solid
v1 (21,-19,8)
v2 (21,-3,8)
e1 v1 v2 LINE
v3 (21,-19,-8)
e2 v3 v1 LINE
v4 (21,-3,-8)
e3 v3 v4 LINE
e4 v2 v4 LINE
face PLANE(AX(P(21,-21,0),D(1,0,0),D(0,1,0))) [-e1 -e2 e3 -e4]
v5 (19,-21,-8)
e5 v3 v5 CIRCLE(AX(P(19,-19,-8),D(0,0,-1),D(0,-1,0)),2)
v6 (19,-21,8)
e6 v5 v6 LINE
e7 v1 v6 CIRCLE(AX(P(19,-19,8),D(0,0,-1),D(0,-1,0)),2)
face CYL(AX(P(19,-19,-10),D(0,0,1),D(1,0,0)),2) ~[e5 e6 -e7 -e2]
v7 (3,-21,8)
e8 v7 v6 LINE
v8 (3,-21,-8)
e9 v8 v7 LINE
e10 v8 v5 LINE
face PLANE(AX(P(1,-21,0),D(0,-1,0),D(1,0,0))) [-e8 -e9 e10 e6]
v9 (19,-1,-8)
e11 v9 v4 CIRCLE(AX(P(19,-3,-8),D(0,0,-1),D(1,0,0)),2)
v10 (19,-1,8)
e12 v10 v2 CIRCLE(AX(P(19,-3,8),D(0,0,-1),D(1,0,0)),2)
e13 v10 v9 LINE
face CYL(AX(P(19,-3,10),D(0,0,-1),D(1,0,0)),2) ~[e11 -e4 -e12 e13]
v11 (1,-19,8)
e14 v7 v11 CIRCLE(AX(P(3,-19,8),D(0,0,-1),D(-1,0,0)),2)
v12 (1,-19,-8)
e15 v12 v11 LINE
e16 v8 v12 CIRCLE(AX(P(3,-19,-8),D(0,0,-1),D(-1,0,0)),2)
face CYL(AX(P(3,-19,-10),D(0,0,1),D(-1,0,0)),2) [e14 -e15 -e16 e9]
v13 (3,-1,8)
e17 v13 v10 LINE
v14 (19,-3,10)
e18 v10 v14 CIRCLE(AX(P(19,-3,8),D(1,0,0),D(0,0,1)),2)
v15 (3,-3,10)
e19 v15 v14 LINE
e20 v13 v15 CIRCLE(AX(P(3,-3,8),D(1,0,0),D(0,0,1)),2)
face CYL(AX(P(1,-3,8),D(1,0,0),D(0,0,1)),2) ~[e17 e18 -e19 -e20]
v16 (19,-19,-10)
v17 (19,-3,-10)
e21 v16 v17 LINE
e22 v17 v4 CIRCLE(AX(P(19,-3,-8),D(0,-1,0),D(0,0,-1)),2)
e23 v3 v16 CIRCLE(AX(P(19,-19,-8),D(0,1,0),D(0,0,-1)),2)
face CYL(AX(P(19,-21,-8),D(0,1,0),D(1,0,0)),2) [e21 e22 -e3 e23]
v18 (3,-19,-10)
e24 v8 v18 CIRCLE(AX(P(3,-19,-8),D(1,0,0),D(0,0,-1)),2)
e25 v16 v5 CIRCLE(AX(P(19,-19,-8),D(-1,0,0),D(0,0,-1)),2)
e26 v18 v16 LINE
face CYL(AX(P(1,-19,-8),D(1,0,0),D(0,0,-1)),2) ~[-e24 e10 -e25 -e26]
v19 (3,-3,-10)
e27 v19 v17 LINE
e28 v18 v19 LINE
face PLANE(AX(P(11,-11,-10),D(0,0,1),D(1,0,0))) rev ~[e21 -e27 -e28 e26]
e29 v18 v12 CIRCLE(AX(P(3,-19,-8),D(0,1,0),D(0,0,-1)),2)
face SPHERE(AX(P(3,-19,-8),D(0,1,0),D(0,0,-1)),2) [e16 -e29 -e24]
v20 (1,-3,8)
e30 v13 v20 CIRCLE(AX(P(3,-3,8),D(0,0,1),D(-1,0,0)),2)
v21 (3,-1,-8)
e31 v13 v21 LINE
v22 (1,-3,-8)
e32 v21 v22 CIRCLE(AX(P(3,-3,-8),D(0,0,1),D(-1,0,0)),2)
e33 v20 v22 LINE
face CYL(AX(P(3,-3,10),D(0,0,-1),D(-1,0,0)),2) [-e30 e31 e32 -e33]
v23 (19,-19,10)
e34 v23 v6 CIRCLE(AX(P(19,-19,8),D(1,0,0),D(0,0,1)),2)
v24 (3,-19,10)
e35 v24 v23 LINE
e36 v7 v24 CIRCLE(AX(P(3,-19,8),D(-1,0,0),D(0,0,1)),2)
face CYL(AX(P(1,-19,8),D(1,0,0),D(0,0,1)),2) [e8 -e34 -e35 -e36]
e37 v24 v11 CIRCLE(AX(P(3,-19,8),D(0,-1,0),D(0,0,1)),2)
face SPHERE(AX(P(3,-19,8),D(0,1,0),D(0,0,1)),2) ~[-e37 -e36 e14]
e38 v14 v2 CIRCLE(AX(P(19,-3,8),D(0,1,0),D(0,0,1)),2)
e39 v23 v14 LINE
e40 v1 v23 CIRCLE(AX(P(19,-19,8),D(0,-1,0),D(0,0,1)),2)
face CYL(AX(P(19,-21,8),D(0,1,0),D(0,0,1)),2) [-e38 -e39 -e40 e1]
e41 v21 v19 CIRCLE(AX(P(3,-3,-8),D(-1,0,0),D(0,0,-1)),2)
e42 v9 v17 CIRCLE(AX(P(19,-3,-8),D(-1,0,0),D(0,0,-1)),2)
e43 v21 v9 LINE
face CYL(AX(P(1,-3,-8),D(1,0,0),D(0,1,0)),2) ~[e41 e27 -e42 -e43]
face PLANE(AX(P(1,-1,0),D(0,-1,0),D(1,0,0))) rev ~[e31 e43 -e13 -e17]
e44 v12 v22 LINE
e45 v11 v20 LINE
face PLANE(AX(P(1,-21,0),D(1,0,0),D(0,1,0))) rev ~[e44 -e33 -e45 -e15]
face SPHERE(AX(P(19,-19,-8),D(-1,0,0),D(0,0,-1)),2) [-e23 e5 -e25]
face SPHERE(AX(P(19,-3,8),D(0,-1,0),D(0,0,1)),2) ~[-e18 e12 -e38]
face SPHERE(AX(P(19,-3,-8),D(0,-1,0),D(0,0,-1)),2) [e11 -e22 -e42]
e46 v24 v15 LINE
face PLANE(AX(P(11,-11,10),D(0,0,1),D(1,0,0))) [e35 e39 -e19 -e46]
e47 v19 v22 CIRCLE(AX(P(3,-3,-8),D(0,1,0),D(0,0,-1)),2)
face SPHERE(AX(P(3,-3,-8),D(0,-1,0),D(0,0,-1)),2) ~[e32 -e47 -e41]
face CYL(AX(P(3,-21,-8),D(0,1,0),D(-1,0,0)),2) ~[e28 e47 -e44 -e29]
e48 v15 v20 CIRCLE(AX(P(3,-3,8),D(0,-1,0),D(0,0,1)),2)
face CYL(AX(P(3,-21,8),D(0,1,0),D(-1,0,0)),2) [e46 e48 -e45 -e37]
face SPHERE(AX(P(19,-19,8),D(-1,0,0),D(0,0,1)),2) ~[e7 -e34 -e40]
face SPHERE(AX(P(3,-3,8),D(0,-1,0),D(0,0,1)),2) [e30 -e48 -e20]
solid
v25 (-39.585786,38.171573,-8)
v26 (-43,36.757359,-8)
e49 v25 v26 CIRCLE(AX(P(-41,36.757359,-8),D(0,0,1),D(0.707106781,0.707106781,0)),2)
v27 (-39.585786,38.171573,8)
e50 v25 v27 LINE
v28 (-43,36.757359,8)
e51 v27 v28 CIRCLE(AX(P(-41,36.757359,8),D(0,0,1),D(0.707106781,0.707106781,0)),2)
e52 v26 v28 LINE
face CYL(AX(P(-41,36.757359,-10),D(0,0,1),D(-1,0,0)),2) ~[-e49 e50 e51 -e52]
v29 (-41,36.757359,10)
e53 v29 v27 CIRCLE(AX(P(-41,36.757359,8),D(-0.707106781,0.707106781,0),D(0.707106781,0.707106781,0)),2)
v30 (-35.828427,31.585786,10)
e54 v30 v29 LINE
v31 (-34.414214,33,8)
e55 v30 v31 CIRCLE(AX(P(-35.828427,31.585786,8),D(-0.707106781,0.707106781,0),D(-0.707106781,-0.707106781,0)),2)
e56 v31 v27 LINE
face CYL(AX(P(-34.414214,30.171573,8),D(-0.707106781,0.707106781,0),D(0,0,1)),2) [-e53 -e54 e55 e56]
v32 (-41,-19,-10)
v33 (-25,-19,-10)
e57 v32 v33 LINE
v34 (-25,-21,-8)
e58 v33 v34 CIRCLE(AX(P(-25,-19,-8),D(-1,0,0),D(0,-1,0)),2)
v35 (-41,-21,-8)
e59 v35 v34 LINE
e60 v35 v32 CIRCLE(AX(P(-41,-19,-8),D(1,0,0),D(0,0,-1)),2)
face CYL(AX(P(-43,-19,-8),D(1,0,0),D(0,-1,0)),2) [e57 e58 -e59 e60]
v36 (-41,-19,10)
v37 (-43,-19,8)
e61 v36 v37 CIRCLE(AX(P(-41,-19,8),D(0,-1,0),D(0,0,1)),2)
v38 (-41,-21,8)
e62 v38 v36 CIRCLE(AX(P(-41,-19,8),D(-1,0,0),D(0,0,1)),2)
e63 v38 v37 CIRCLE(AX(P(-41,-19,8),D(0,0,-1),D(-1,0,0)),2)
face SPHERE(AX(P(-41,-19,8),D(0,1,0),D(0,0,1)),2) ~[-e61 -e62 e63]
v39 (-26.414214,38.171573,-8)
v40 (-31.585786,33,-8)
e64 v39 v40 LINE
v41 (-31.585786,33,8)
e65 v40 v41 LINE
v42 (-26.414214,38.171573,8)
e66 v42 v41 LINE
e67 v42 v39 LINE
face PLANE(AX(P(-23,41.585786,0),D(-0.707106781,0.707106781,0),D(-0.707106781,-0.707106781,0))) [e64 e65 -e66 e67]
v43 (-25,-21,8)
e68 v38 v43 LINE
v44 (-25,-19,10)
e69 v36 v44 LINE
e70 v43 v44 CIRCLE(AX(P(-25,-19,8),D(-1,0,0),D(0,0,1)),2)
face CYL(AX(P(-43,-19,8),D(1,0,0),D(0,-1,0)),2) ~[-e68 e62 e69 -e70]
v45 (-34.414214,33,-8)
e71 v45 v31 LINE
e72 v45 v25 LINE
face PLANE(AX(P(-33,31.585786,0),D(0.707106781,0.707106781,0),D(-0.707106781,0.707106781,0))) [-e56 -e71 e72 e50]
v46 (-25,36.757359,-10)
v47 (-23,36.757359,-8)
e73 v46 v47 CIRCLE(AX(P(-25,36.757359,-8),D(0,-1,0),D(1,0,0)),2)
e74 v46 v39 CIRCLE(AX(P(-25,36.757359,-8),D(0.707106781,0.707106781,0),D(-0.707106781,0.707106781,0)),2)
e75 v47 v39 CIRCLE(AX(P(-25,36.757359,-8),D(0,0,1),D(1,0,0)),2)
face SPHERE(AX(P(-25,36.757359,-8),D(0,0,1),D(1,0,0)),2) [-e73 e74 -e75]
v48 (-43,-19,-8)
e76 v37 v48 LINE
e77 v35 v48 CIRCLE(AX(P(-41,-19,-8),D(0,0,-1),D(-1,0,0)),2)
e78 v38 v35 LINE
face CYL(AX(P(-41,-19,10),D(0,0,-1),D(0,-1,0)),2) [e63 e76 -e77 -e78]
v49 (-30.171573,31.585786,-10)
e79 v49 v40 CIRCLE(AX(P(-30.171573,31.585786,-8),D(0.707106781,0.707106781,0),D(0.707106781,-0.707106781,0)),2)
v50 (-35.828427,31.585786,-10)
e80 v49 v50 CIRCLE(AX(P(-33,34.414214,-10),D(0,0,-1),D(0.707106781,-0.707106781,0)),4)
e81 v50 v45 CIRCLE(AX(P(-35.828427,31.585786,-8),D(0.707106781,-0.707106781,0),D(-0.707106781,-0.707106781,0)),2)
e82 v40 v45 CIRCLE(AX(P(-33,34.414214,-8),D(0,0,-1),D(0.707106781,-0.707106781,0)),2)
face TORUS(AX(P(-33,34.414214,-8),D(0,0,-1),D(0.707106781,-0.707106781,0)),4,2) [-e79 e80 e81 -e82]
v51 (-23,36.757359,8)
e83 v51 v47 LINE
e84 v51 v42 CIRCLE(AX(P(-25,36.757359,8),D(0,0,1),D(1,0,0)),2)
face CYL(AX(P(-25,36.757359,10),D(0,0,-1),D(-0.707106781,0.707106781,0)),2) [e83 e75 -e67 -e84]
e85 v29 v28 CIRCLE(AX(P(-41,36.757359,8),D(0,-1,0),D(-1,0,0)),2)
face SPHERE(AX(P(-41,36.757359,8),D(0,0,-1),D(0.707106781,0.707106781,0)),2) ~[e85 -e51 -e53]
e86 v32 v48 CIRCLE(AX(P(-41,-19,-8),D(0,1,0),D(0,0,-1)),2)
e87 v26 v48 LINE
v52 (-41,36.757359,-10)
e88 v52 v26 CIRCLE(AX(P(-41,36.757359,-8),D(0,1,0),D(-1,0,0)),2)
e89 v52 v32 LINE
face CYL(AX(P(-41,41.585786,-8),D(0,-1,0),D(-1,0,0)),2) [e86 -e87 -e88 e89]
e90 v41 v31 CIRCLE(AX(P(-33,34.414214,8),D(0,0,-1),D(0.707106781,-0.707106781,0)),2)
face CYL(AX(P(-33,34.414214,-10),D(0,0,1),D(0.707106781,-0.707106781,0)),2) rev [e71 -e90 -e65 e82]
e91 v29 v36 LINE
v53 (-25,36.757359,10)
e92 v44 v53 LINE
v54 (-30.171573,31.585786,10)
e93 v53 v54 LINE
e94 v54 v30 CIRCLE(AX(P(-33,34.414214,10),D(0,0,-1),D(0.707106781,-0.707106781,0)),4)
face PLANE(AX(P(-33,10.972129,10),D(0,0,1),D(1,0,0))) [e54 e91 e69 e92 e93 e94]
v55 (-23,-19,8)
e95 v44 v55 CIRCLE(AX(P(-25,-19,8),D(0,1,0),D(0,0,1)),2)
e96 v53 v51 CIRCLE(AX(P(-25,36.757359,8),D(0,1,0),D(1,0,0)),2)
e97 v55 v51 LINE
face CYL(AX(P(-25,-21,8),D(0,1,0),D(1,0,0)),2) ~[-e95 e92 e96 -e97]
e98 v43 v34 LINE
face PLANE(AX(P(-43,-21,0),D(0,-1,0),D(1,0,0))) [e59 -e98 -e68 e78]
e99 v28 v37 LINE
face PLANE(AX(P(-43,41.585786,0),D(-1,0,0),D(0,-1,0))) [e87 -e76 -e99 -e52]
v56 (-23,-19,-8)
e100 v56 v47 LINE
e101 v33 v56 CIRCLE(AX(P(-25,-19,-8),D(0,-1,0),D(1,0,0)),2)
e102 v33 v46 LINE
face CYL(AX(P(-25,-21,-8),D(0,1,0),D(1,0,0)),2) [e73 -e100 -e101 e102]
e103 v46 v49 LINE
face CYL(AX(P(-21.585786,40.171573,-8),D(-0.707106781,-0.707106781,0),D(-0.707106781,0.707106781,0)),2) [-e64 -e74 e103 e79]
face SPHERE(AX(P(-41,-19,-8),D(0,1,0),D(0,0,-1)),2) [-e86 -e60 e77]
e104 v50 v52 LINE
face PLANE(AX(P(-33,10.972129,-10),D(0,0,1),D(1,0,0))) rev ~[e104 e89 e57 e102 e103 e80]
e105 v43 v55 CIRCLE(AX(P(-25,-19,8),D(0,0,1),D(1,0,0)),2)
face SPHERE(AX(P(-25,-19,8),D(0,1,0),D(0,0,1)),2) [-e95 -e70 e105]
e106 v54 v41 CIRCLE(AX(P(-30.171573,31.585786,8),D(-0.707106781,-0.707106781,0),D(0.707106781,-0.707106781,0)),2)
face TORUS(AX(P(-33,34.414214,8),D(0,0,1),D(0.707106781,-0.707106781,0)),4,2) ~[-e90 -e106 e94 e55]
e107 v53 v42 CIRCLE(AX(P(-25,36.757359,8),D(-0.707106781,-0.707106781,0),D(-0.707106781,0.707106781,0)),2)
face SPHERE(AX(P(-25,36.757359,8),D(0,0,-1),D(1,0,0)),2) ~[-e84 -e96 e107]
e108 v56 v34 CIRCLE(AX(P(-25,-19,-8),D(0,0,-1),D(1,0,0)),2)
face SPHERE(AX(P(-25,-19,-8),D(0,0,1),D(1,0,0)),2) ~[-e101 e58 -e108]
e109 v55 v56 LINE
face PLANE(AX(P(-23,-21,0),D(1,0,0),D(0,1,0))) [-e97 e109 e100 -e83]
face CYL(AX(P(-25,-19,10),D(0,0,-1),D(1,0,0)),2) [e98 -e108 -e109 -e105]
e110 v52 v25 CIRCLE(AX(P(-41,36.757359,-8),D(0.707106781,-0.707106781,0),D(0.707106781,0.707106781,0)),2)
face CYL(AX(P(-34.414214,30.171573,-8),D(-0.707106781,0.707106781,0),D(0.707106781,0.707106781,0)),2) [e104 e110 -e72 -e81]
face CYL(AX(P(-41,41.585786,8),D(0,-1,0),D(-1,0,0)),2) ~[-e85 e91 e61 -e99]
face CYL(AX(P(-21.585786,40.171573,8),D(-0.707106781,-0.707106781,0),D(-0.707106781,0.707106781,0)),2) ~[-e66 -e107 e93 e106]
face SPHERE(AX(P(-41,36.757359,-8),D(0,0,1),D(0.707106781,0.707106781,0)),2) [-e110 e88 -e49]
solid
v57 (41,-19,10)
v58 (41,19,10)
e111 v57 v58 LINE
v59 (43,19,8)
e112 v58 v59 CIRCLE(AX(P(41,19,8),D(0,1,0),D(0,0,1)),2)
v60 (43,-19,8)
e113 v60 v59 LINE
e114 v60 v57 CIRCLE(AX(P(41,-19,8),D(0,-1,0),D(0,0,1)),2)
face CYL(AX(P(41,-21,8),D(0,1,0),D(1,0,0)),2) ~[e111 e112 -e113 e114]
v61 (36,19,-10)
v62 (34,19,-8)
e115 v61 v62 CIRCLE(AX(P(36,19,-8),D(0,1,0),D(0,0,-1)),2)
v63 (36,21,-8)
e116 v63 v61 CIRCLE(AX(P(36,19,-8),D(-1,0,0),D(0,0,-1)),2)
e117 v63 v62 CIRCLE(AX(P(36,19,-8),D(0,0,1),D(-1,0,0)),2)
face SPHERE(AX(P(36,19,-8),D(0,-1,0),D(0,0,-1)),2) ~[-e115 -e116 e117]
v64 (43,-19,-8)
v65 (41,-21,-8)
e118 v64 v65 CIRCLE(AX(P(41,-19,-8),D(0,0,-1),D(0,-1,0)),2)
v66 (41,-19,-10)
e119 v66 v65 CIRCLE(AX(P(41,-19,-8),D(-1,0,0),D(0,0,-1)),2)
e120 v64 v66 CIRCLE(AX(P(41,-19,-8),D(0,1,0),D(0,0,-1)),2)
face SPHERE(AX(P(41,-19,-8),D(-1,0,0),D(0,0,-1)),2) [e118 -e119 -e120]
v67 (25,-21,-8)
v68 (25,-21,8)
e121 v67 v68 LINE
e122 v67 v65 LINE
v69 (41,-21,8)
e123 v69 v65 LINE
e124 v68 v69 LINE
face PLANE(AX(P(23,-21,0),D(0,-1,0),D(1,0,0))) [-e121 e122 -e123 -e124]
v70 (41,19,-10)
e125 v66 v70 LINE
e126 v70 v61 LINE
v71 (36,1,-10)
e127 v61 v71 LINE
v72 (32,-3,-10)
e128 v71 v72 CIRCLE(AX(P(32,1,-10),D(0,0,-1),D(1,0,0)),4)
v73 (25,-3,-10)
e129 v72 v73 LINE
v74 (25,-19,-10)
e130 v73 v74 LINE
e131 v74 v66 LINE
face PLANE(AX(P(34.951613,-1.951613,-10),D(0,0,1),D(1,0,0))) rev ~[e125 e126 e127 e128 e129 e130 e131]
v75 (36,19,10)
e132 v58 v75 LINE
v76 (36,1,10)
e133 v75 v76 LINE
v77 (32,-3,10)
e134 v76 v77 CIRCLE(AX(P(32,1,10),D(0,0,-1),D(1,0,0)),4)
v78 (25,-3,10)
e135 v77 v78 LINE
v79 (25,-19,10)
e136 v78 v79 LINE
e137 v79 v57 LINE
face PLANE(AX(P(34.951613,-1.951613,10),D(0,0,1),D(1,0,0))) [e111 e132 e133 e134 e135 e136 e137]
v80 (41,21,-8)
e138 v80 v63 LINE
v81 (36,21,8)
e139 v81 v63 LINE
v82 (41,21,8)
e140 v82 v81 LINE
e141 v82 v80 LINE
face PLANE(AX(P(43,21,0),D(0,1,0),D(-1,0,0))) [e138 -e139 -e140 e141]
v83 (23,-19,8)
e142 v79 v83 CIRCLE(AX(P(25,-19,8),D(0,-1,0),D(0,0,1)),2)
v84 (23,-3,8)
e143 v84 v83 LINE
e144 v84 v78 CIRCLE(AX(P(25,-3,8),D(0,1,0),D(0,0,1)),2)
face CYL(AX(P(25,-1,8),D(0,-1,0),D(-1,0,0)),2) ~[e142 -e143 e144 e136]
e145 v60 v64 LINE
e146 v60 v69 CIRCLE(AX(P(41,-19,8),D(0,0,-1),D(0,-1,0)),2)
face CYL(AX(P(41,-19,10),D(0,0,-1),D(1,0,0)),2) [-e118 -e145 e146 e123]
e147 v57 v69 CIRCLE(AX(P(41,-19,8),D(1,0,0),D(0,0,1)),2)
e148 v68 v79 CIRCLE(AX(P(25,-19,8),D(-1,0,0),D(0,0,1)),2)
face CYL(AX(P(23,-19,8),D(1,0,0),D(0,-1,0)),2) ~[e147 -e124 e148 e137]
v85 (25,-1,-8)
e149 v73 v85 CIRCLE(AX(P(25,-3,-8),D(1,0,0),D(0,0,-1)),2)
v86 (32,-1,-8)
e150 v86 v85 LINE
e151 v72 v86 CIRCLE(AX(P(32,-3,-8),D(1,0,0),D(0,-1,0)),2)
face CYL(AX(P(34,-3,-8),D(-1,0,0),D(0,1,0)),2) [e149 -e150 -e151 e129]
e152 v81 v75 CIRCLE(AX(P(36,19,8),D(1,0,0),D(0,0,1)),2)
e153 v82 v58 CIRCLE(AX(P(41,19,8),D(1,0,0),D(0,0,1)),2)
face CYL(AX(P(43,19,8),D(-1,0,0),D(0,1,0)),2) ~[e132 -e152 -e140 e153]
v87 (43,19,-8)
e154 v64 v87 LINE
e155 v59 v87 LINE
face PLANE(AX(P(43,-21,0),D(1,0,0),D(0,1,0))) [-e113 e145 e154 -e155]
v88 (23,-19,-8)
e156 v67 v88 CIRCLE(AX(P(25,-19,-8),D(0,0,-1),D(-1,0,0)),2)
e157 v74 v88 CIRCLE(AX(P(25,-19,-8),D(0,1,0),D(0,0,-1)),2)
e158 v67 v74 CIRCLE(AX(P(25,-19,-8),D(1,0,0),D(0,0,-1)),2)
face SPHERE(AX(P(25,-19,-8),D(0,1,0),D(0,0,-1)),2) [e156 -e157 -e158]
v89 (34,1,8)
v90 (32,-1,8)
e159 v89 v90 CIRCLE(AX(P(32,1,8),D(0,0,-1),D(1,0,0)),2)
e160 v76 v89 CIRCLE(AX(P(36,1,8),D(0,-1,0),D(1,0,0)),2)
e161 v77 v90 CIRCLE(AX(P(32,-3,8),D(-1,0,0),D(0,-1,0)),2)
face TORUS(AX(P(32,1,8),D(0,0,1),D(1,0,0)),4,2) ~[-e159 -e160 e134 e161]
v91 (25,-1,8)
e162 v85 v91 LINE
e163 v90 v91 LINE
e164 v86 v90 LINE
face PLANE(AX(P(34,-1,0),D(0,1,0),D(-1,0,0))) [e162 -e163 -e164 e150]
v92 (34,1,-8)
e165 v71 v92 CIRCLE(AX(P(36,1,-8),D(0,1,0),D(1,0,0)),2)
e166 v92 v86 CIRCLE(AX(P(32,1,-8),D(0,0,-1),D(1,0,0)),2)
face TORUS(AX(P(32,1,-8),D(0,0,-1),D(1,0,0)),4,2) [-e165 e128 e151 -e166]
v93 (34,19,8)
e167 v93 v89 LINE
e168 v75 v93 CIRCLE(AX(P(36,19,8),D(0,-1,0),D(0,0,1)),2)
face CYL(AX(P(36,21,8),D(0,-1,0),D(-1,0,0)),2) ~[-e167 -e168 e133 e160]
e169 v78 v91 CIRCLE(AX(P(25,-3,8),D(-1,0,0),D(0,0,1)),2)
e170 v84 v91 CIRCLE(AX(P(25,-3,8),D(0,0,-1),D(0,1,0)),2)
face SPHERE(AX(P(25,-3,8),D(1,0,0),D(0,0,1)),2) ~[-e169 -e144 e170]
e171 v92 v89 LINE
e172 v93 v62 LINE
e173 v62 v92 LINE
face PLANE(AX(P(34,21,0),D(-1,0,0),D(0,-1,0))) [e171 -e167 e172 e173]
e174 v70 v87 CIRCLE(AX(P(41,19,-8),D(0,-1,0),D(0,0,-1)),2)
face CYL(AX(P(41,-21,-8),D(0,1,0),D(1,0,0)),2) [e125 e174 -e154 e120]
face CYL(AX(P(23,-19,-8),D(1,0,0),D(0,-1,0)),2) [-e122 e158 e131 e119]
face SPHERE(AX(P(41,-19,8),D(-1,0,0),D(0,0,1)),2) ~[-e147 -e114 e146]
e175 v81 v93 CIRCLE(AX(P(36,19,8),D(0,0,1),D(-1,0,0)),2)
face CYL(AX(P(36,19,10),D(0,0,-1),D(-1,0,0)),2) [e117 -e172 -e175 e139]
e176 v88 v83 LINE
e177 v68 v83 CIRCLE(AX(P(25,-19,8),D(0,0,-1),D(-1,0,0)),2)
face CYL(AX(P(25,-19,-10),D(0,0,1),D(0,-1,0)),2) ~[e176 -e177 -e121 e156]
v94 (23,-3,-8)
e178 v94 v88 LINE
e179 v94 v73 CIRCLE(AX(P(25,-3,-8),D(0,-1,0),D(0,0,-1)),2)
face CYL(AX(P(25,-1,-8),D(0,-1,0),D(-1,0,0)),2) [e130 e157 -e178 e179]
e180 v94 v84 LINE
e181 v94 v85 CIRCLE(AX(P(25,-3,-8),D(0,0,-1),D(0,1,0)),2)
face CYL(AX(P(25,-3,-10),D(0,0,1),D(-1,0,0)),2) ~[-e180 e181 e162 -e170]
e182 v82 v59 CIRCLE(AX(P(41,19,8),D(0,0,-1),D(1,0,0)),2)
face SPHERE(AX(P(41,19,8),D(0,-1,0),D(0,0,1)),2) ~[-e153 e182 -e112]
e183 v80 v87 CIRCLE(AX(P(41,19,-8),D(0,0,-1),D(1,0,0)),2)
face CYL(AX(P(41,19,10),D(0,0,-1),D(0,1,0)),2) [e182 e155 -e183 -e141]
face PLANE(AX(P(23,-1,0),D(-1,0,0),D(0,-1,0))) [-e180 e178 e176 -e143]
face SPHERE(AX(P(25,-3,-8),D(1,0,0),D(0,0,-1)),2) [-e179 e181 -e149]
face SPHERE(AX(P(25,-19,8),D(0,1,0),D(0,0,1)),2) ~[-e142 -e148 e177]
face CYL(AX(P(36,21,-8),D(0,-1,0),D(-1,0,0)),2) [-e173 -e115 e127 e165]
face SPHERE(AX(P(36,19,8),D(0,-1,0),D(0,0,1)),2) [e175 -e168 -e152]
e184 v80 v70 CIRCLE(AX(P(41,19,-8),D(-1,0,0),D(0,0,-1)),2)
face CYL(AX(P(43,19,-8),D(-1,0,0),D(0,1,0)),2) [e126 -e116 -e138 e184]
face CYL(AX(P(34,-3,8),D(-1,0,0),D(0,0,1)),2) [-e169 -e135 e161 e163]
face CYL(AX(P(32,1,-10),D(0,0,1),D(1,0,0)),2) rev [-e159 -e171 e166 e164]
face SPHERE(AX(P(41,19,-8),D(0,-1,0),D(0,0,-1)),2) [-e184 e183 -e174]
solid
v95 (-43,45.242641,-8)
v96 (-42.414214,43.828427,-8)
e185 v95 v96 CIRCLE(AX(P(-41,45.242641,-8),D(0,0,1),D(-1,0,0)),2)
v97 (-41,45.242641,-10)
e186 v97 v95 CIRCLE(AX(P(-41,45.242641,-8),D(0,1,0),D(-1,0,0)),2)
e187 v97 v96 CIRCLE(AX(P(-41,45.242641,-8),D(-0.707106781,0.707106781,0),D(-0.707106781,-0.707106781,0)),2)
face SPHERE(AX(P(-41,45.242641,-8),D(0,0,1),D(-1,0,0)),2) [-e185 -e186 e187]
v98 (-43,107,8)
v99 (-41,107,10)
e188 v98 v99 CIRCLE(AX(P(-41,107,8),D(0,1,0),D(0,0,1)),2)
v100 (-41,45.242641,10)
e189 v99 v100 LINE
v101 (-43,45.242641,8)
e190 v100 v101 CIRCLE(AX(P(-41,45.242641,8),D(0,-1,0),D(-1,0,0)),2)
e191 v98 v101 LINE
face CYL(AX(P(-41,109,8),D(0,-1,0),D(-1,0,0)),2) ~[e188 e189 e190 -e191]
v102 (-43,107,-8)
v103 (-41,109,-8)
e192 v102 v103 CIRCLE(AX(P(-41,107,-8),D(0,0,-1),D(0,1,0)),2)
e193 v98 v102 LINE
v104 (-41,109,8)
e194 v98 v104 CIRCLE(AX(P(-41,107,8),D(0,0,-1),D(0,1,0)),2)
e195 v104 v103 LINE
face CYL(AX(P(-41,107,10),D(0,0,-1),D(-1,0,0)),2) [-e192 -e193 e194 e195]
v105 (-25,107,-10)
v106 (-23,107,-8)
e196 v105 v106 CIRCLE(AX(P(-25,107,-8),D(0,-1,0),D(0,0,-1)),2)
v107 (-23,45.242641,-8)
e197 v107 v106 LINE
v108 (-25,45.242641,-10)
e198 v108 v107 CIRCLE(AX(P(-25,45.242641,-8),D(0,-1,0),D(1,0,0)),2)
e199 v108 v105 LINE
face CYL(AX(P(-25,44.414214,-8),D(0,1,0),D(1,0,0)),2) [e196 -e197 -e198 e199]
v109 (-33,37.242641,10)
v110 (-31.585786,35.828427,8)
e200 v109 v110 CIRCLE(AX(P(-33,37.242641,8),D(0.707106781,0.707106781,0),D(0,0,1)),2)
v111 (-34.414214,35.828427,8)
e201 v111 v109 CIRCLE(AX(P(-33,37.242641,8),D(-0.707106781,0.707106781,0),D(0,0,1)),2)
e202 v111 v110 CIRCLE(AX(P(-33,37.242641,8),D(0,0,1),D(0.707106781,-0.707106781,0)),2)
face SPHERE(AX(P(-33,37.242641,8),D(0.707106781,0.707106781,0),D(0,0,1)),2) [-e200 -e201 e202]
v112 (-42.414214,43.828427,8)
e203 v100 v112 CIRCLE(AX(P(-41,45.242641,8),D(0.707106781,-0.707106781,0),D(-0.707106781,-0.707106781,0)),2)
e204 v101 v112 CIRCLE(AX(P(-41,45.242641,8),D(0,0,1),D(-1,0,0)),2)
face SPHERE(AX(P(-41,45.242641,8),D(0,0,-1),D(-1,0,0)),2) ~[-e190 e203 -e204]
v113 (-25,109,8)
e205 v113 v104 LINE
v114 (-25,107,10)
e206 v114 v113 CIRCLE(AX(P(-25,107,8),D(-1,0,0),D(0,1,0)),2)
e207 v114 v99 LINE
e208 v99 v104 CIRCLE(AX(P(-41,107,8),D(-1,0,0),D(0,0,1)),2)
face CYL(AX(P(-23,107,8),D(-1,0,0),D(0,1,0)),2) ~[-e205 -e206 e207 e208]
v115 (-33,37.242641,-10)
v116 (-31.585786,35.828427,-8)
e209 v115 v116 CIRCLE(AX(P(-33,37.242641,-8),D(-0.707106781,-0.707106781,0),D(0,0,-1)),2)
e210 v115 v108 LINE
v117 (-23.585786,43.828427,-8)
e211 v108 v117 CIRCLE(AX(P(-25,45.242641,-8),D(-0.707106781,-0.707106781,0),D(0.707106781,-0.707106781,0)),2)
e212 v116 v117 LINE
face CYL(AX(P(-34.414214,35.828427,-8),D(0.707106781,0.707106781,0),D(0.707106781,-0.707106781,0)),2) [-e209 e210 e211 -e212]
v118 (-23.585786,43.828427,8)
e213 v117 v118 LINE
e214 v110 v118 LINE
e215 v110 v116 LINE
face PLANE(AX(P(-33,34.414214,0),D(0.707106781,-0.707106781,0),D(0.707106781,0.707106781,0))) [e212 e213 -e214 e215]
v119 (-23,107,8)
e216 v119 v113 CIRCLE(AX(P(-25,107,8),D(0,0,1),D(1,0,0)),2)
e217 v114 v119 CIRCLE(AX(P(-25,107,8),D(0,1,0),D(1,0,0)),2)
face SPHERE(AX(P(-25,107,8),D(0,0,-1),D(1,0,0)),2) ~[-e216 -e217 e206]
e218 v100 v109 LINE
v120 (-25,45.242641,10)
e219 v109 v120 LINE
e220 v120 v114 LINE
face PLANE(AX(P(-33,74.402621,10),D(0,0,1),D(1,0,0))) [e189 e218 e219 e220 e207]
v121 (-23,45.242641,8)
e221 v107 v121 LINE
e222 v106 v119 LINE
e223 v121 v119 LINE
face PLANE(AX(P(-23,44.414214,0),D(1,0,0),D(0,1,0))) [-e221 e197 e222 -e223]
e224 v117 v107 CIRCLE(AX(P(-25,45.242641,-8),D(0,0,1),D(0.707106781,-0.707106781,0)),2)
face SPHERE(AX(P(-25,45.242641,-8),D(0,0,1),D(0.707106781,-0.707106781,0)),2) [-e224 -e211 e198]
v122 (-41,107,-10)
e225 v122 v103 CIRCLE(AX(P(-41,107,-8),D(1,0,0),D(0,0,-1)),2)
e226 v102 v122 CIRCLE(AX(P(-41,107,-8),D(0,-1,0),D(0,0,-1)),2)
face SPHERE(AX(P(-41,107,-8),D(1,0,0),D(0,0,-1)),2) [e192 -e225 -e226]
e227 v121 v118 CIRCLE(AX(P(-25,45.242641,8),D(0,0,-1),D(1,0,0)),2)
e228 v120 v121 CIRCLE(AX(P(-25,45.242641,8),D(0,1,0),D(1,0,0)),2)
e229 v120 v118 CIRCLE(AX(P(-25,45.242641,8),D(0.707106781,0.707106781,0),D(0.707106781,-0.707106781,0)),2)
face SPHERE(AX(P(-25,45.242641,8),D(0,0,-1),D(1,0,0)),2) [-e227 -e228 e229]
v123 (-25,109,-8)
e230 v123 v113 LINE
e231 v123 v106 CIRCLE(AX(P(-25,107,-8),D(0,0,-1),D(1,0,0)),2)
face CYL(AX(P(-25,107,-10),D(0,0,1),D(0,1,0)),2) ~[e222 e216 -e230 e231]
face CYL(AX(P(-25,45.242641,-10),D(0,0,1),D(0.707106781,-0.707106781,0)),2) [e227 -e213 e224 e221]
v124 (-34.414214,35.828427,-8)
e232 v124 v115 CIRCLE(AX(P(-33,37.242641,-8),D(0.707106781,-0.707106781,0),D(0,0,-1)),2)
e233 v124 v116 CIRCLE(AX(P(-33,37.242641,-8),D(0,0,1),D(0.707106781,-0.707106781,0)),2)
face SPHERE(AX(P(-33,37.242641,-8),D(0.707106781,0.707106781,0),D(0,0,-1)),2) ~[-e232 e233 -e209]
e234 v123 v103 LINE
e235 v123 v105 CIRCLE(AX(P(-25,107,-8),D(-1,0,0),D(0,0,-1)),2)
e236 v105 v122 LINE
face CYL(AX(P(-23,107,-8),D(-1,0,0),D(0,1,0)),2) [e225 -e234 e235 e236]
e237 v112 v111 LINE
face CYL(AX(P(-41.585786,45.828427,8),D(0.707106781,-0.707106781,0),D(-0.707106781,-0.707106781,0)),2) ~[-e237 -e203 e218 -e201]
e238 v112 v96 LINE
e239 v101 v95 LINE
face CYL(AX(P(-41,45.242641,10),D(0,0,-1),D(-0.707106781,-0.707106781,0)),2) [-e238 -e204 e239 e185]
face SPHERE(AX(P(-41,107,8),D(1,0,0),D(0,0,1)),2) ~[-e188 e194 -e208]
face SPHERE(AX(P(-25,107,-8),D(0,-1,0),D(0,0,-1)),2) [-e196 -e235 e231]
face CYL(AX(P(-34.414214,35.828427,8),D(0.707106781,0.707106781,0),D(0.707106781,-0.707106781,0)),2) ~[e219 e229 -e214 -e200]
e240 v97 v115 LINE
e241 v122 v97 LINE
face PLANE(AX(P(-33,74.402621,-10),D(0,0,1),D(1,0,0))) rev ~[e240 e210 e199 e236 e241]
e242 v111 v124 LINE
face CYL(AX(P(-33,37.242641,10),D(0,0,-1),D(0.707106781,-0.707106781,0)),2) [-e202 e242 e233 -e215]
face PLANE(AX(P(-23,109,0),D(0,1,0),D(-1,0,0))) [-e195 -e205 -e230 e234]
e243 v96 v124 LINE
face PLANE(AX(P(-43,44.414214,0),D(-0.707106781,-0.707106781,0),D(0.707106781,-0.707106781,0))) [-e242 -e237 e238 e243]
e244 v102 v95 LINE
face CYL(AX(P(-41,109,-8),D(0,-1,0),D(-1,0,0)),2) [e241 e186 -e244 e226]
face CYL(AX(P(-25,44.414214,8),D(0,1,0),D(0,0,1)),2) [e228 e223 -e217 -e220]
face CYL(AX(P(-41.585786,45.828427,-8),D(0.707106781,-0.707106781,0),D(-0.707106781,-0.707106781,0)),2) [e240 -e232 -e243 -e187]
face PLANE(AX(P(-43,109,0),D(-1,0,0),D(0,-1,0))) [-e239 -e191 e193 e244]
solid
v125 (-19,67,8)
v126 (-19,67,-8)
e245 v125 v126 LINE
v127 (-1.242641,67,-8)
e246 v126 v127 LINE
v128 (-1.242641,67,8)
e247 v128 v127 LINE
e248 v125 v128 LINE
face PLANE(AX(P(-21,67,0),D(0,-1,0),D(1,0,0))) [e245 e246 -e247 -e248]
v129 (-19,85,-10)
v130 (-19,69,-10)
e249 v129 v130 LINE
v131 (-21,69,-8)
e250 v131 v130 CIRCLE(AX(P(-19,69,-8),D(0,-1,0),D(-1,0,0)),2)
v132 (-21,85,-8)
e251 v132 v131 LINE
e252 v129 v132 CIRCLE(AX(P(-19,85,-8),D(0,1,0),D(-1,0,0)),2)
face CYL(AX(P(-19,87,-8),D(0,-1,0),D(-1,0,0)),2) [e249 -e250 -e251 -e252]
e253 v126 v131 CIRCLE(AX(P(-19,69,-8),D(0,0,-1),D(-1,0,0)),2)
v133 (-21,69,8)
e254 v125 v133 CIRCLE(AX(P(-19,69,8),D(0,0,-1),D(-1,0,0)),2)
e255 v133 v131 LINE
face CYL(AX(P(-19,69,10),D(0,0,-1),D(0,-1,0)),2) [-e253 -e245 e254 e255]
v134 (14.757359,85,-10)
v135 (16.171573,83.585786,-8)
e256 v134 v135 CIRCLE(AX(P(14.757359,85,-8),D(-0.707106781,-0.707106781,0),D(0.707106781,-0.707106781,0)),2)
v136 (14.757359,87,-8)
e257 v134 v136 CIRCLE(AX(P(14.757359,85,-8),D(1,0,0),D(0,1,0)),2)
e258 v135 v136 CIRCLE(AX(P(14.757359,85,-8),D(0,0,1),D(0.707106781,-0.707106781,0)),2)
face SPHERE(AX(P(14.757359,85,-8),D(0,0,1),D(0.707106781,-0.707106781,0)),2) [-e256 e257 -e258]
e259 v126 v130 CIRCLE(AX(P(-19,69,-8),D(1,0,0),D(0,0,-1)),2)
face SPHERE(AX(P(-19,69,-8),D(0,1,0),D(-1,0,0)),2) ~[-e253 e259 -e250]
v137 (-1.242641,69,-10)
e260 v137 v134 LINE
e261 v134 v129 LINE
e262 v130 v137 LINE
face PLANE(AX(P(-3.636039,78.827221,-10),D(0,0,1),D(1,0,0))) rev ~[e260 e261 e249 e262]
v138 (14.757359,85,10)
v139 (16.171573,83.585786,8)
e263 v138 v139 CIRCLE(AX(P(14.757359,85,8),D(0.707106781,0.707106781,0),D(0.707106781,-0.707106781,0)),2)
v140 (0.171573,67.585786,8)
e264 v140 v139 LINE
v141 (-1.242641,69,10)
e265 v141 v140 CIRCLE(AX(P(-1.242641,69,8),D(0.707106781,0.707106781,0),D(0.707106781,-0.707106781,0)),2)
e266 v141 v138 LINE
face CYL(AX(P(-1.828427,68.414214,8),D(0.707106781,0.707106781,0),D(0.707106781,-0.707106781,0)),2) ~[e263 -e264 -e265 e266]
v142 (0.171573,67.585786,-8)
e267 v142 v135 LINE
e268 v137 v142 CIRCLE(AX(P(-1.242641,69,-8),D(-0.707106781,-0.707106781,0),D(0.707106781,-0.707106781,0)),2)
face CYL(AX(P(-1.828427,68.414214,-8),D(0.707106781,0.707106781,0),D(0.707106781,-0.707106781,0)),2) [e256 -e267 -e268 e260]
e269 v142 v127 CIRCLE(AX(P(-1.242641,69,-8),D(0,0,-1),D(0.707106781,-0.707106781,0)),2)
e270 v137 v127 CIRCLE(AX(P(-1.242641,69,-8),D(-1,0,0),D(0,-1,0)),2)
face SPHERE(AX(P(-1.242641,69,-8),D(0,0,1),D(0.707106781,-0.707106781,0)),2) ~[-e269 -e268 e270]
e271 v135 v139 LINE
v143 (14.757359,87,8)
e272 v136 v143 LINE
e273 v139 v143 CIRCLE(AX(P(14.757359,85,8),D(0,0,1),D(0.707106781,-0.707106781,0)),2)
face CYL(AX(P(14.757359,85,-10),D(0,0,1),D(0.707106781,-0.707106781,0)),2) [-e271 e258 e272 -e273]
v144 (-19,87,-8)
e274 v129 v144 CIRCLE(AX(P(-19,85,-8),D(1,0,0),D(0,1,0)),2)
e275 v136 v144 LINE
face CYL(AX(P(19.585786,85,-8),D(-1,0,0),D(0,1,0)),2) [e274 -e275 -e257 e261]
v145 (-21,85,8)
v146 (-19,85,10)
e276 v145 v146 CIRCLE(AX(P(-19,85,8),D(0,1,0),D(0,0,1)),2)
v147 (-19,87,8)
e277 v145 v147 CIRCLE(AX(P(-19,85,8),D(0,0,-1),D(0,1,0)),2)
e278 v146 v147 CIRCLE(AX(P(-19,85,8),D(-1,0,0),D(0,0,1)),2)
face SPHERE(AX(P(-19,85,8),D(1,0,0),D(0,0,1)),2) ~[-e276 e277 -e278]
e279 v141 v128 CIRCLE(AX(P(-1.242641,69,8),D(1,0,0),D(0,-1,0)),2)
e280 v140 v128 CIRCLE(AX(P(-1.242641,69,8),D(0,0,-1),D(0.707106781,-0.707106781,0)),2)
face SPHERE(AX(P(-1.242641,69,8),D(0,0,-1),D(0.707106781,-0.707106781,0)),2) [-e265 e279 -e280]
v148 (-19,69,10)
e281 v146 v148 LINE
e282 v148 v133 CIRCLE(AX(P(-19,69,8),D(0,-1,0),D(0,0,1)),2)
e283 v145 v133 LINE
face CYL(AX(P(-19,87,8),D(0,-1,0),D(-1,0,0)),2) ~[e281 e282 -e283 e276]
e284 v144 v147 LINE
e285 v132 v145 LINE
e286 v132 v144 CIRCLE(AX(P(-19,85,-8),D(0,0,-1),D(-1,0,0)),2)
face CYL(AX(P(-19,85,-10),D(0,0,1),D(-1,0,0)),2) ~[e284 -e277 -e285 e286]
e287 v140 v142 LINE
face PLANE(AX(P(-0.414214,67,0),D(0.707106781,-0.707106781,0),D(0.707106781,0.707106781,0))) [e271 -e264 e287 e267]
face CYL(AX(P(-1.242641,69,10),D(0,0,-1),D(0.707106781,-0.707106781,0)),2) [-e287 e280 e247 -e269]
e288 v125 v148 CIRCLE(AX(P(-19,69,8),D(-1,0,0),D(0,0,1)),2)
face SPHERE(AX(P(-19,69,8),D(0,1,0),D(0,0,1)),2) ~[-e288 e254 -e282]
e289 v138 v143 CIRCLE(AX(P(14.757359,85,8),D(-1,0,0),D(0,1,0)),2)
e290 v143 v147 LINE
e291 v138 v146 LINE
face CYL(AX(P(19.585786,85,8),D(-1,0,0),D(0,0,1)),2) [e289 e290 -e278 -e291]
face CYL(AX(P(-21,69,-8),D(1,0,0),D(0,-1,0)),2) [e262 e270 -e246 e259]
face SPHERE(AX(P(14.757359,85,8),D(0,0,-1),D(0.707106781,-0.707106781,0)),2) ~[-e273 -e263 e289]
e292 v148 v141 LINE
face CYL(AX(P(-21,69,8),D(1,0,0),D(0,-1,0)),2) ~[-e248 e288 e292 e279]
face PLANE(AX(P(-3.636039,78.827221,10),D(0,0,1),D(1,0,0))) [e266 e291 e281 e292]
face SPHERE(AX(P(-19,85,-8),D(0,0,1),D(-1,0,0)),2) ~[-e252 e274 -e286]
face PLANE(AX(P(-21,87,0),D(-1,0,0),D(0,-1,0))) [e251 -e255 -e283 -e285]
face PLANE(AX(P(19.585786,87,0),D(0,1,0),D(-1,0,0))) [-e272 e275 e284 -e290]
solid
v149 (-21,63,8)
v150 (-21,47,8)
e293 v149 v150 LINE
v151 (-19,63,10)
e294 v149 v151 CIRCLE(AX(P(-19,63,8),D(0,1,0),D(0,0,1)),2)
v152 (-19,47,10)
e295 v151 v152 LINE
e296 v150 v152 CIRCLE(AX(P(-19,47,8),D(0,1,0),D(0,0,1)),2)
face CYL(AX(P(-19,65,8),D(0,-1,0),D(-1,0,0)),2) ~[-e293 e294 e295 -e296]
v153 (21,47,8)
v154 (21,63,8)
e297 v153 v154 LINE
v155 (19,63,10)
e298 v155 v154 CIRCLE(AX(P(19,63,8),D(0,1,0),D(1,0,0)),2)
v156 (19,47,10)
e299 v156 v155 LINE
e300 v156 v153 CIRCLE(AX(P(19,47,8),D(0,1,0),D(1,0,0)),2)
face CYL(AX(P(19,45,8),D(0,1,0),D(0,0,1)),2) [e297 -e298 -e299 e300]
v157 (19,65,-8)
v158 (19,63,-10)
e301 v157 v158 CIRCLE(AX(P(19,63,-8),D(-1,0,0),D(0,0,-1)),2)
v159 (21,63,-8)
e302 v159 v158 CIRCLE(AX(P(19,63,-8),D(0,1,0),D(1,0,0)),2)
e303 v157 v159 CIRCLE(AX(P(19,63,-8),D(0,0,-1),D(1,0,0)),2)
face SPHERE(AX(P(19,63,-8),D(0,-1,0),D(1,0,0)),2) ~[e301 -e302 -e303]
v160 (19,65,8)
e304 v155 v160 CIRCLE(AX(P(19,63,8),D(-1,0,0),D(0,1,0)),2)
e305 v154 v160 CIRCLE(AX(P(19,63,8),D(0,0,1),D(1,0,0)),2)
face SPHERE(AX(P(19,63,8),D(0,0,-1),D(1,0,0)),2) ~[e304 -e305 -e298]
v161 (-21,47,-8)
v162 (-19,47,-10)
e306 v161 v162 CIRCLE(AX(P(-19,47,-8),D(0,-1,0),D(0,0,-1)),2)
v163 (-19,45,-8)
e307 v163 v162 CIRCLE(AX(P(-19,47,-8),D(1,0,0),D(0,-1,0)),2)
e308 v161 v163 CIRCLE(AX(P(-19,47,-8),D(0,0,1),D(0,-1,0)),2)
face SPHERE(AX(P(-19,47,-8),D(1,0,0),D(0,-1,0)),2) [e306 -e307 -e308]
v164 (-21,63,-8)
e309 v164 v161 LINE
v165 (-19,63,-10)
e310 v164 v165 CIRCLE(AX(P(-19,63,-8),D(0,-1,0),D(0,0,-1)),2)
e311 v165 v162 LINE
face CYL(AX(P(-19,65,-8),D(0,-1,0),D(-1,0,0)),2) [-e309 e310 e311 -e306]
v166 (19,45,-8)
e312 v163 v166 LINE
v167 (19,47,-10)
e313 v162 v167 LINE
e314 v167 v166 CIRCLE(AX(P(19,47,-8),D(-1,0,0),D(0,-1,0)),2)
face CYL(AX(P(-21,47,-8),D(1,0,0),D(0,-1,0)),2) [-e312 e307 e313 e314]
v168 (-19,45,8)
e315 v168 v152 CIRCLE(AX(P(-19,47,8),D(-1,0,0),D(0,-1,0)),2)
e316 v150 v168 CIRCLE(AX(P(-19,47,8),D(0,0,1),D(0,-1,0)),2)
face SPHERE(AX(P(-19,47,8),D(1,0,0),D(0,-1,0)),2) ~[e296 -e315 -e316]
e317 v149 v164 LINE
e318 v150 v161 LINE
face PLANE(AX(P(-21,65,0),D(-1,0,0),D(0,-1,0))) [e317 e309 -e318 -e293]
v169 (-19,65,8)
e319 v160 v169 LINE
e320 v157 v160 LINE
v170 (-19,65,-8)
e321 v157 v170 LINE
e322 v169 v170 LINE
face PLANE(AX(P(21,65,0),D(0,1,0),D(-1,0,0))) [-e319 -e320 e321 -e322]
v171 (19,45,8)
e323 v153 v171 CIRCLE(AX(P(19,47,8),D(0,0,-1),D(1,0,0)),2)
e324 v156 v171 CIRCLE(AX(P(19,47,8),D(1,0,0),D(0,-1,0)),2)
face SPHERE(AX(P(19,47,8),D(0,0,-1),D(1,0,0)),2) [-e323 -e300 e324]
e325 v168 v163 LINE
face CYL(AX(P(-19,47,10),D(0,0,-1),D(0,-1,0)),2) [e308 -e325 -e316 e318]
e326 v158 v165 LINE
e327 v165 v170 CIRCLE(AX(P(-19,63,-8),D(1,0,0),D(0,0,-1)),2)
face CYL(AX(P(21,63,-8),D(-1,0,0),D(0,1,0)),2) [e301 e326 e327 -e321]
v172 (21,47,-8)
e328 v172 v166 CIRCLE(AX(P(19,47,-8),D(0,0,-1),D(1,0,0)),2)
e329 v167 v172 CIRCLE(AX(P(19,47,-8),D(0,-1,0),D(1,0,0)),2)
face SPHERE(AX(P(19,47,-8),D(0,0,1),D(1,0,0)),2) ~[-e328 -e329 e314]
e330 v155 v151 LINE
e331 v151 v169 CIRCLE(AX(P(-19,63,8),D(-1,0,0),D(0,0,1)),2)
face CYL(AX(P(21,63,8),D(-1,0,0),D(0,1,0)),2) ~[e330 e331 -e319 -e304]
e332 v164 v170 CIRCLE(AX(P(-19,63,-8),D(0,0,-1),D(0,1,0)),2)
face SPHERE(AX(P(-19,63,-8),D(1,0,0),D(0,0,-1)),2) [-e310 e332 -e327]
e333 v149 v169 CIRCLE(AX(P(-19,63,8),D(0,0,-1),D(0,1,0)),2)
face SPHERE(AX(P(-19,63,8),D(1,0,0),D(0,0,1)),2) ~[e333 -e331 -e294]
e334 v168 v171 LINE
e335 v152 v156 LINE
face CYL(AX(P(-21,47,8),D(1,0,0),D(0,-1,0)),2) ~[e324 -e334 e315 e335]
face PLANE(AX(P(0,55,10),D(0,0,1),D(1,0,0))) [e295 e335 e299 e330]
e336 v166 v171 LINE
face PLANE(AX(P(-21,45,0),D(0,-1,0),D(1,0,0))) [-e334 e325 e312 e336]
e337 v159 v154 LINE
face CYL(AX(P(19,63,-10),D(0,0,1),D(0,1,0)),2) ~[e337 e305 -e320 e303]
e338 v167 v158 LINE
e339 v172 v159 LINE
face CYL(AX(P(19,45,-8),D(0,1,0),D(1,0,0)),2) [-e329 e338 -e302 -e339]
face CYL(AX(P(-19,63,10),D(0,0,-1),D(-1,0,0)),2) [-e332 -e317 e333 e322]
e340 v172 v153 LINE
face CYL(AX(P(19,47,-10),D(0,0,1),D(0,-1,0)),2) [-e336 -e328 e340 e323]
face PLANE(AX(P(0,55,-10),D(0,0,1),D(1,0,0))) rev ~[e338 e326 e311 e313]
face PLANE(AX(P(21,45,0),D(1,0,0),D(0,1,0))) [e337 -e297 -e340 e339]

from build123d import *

# Parameters (mm, degrees)
F2_DEPTH = 10
F1_W     = 20
F1_H     = 20
F4_R     = 2
F5_R     = 2
F6_R     = 2
F7_R     = 2
F8_R     = 2
F9_R     = 2


with BuildPart() as f2:
    # F1 (on Top) → F2 (new body, symmetric)
    with BuildSketch(Plane.XY):
        Polygon((-23, 0), (-23, 9), (-23, 12), (-23, 27), (-23, 41.5857864376), (-33, 31.5857864376), (-43, 41.5857864376), (-43, -21), (-23, -21), align=None)
    extrude(amount=F2_DEPTH, both=True)

    # F9
    f9_edges = [f2.edges().sort_by_distance(p)[0] for p in [
        (-23, 10.292893, 10),
        (-28, 36.585786, 10),
        (-38, 36.585786, 10),
        (-43, 10.292893, 10),
        (-33, -21, 10),
        (-23, 41.585786, 0),
        (-23, -21, 0),
        (-23, 10.292893, -10),
        (-28, 36.585786, -10),
        (-38, 36.585786, -10),
        (-43, 10.292893, -10),
        (-33, -21, -10),
        (-43, 41.585786, 0),
        (-43, -21, 0),
        (-33, 31.585786, 0),
    ]]
    fillet(f9_edges, radius=F9_R)


with BuildPart() as f2b:
    # F1 (on Top) → F2, piece 2 (new body, symmetric)
    with BuildSketch(Plane.XY):
        Polygon((-33, 34.4142135624), (-23, 44.4142135624), (-23, 109), (-43, 109), (-43, 44.4142135624), align=None)
    extrude(amount=F2_DEPTH, both=True)

    # F8
    f8_edges = [f2b.edges().sort_by_distance(p)[0] for p in [
        (-28, 39.414214, -10),
        (-23, 76.707107, -10),
        (-33, 109, -10),
        (-43, 76.707107, -10),
        (-38, 39.414214, -10),
        (-23, 44.414214, 0),
        (-23, 109, 0),
        (-23, 76.707107, 10),
        (-28, 39.414214, 10),
        (-33, 109, 10),
        (-43, 76.707107, 10),
        (-38, 39.414214, 10),
        (-43, 44.414214, 0),
        (-43, 109, 0),
        (-33, 34.414214, 0),
    ]]
    fillet(f8_edges, radius=F8_R)


with BuildPart() as f2c:
    # F1 (on Top) → F2, piece 3 (new body, symmetric)
    with BuildSketch(Plane.XY):
        with Locations((-11, 99)):
            Rectangle(F1_W, F1_H)
    extrude(amount=F2_DEPTH, both=True)


with BuildPart() as f2d:
    # F1 (on Top) → F2, piece 4 (new body, symmetric)
    with BuildSketch(Plane.XY):
        with Locations((11, 99)):
            Rectangle(F1_W, F1_H)
    extrude(amount=F2_DEPTH, both=True)


with BuildPart() as f2e:
    # F1 (on Top) → F2, piece 5 (new body, symmetric)
    with BuildSketch(Plane.XY):
        with Locations((33, 99)):
            Rectangle(F1_W, F1_H)
    extrude(amount=F2_DEPTH, both=True)


with BuildPart() as f2f:
    # F1 (on Top) → F2, piece 6 (new body, symmetric)
    with BuildSketch(Plane.XY):
        Polygon((-0.4142135624, 67), (19.5857864376, 87), (0, 87), (-21, 87), (-21, 67), align=None)
    extrude(amount=F2_DEPTH, both=True)

    # F7
    f7_edges = [f2f.edges().sort_by_distance(p)[0] for p in [
        (9.585786, 77, 10),
        (-0.707107, 87, 10),
        (-21, 77, 10),
        (-10.707107, 67, 10),
        (-21, 87, 0),
        (-21, 77, -10),
        (-21, 67, 0),
        (9.585786, 77, -10),
        (-0.707107, 87, -10),
        (-10.707107, 67, -10),
        (19.585786, 87, 0),
        (-0.414214, 67, 0),
    ]]
    fillet(f7_edges, radius=F7_R)


with BuildPart() as f2g:
    # F1 (on Top) → F2, piece 7 (new body, symmetric)
    with BuildSketch(Plane.XY):
        Polygon((43, 87), (22.4142135624, 87), (2.4142135624, 67), (27, 67), (43, 67), align=None)
    extrude(amount=F2_DEPTH, both=True)


with BuildPart() as f2h:
    # F1 (on Top) → F2, piece 8 (new body, symmetric)
    with BuildSketch(Plane.XY):
        Polygon((-21, 45), (21, 45), (21, 65), (0, 65), (-21, 65), align=None)
    extrude(amount=F2_DEPTH, both=True)

    # F5
    f5_edges = [f2h.edges().sort_by_distance(p)[0] for p in [
        (21, 45, 0),
        (21, 55, -10),
        (21, 65, 0),
        (21, 55, 10),
        (0, 45, -10),
        (0, 45, 10),
        (-21, 45, 0),
        (0, 65, 10),
        (-21, 55, 10),
        (0, 65, -10),
        (-21, 55, -10),
        (-21, 65, 0),
    ]]
    fillet(f5_edges, radius=F5_R)


with BuildPart() as f2i:
    # F1 (on Top) → F2, piece 9 (new body, symmetric)
    with BuildSketch(Plane.XY):
        with Locations((33, 55)):
            Rectangle(F1_W, F1_H)
    extrude(amount=F2_DEPTH, both=True)


with BuildPart() as f2j:
    # F1 (on Top) → F2, piece 10 (new body, symmetric)
    with BuildSketch(Plane.XY):
        Polygon((-21, 43), (-21, 23), (0, 23), (21, 23), (21, 43), align=None)
    extrude(amount=F2_DEPTH, both=True)


with BuildPart() as f2k:
    # F1 (on Top) → F2, piece 11 (new body, symmetric)
    with BuildSketch(Plane.XY):
        Polygon((23, 1), (32, 1), (32, 23), (43, 23), (43, 43), (23, 43), (23, 27), align=None)
    extrude(amount=F2_DEPTH, both=True)


with BuildPart() as f2l:
    # F1 (on Top) → F2, piece 12 (new body, symmetric)
    with BuildSketch(Plane.XY):
        Polygon((34, 21), (34, -1), (23, -1), (23, -21), (43, -21), (43, 21), align=None)
    extrude(amount=F2_DEPTH, both=True)

    # F6
    f6_edges = [f2l.edges().sort_by_distance(p)[0] for p in [
        (34, 10, -10),
        (28.5, -1, -10),
        (23, -11, -10),
        (33, -21, -10),
        (43, 0, -10),
        (38.5, 21, -10),
        (34, 10, 10),
        (28.5, -1, 10),
        (23, -11, 10),
        (33, -21, 10),
        (43, 0, 10),
        (38.5, 21, 10),
        (34, 21, 0),
        (43, 21, 0),
        (34, -1, 0),
        (23, -1, 0),
        (23, -21, 0),
        (43, -21, 0),
    ]]
    fillet(f6_edges, radius=F6_R)


with BuildPart() as f2m:
    # F1 (on Top) → F2, piece 13 (new body, symmetric)
    with BuildSketch(Plane.XY):
        with Locations((-11, 11)):
            Rectangle(F1_W, F1_H)
    extrude(amount=F2_DEPTH, both=True)


with BuildPart() as f2n:
    # F1 (on Top) → F2, piece 14 (new body, symmetric)
    with BuildSketch(Plane.XY):
        with Locations((11, 11)):
            Rectangle(F1_W, F1_H)
    extrude(amount=F2_DEPTH, both=True)


with BuildPart() as f2o:
    # F1 (on Top) → F2, piece 15 (new body, symmetric)
    with BuildSketch(Plane.XY):
        with Locations((-11, -11)):
            Rectangle(F1_W, F1_H)
    extrude(amount=F2_DEPTH, both=True)


with BuildPart() as f2p:
    # F1 (on Top) → F2, piece 16 (new body, symmetric)
    with BuildSketch(Plane.XY):
        with Locations((11, -11)):
            Rectangle(F1_W, F1_H)
    extrude(amount=F2_DEPTH, both=True)

    # F4
    f4_edges = [f2p.edges().sort_by_distance(p)[0] for p in [
        (1, -11, 10),
        (11, -21, 10),
        (21, -11, 10),
        (11, -1, 10),
        (1, -11, -10),
        (11, -21, -10),
        (21, -11, -10),
        (11, -1, -10),
        (1, -21, 0),
        (21, -21, 0),
        (1, -1, 0),
        (21, -1, 0),
    ]]
    fillet(f4_edges, radius=F4_R)


solid = Compound([f2.part, f2b.part, f2f.part, f2h.part, f2l.part, f2p.part])
